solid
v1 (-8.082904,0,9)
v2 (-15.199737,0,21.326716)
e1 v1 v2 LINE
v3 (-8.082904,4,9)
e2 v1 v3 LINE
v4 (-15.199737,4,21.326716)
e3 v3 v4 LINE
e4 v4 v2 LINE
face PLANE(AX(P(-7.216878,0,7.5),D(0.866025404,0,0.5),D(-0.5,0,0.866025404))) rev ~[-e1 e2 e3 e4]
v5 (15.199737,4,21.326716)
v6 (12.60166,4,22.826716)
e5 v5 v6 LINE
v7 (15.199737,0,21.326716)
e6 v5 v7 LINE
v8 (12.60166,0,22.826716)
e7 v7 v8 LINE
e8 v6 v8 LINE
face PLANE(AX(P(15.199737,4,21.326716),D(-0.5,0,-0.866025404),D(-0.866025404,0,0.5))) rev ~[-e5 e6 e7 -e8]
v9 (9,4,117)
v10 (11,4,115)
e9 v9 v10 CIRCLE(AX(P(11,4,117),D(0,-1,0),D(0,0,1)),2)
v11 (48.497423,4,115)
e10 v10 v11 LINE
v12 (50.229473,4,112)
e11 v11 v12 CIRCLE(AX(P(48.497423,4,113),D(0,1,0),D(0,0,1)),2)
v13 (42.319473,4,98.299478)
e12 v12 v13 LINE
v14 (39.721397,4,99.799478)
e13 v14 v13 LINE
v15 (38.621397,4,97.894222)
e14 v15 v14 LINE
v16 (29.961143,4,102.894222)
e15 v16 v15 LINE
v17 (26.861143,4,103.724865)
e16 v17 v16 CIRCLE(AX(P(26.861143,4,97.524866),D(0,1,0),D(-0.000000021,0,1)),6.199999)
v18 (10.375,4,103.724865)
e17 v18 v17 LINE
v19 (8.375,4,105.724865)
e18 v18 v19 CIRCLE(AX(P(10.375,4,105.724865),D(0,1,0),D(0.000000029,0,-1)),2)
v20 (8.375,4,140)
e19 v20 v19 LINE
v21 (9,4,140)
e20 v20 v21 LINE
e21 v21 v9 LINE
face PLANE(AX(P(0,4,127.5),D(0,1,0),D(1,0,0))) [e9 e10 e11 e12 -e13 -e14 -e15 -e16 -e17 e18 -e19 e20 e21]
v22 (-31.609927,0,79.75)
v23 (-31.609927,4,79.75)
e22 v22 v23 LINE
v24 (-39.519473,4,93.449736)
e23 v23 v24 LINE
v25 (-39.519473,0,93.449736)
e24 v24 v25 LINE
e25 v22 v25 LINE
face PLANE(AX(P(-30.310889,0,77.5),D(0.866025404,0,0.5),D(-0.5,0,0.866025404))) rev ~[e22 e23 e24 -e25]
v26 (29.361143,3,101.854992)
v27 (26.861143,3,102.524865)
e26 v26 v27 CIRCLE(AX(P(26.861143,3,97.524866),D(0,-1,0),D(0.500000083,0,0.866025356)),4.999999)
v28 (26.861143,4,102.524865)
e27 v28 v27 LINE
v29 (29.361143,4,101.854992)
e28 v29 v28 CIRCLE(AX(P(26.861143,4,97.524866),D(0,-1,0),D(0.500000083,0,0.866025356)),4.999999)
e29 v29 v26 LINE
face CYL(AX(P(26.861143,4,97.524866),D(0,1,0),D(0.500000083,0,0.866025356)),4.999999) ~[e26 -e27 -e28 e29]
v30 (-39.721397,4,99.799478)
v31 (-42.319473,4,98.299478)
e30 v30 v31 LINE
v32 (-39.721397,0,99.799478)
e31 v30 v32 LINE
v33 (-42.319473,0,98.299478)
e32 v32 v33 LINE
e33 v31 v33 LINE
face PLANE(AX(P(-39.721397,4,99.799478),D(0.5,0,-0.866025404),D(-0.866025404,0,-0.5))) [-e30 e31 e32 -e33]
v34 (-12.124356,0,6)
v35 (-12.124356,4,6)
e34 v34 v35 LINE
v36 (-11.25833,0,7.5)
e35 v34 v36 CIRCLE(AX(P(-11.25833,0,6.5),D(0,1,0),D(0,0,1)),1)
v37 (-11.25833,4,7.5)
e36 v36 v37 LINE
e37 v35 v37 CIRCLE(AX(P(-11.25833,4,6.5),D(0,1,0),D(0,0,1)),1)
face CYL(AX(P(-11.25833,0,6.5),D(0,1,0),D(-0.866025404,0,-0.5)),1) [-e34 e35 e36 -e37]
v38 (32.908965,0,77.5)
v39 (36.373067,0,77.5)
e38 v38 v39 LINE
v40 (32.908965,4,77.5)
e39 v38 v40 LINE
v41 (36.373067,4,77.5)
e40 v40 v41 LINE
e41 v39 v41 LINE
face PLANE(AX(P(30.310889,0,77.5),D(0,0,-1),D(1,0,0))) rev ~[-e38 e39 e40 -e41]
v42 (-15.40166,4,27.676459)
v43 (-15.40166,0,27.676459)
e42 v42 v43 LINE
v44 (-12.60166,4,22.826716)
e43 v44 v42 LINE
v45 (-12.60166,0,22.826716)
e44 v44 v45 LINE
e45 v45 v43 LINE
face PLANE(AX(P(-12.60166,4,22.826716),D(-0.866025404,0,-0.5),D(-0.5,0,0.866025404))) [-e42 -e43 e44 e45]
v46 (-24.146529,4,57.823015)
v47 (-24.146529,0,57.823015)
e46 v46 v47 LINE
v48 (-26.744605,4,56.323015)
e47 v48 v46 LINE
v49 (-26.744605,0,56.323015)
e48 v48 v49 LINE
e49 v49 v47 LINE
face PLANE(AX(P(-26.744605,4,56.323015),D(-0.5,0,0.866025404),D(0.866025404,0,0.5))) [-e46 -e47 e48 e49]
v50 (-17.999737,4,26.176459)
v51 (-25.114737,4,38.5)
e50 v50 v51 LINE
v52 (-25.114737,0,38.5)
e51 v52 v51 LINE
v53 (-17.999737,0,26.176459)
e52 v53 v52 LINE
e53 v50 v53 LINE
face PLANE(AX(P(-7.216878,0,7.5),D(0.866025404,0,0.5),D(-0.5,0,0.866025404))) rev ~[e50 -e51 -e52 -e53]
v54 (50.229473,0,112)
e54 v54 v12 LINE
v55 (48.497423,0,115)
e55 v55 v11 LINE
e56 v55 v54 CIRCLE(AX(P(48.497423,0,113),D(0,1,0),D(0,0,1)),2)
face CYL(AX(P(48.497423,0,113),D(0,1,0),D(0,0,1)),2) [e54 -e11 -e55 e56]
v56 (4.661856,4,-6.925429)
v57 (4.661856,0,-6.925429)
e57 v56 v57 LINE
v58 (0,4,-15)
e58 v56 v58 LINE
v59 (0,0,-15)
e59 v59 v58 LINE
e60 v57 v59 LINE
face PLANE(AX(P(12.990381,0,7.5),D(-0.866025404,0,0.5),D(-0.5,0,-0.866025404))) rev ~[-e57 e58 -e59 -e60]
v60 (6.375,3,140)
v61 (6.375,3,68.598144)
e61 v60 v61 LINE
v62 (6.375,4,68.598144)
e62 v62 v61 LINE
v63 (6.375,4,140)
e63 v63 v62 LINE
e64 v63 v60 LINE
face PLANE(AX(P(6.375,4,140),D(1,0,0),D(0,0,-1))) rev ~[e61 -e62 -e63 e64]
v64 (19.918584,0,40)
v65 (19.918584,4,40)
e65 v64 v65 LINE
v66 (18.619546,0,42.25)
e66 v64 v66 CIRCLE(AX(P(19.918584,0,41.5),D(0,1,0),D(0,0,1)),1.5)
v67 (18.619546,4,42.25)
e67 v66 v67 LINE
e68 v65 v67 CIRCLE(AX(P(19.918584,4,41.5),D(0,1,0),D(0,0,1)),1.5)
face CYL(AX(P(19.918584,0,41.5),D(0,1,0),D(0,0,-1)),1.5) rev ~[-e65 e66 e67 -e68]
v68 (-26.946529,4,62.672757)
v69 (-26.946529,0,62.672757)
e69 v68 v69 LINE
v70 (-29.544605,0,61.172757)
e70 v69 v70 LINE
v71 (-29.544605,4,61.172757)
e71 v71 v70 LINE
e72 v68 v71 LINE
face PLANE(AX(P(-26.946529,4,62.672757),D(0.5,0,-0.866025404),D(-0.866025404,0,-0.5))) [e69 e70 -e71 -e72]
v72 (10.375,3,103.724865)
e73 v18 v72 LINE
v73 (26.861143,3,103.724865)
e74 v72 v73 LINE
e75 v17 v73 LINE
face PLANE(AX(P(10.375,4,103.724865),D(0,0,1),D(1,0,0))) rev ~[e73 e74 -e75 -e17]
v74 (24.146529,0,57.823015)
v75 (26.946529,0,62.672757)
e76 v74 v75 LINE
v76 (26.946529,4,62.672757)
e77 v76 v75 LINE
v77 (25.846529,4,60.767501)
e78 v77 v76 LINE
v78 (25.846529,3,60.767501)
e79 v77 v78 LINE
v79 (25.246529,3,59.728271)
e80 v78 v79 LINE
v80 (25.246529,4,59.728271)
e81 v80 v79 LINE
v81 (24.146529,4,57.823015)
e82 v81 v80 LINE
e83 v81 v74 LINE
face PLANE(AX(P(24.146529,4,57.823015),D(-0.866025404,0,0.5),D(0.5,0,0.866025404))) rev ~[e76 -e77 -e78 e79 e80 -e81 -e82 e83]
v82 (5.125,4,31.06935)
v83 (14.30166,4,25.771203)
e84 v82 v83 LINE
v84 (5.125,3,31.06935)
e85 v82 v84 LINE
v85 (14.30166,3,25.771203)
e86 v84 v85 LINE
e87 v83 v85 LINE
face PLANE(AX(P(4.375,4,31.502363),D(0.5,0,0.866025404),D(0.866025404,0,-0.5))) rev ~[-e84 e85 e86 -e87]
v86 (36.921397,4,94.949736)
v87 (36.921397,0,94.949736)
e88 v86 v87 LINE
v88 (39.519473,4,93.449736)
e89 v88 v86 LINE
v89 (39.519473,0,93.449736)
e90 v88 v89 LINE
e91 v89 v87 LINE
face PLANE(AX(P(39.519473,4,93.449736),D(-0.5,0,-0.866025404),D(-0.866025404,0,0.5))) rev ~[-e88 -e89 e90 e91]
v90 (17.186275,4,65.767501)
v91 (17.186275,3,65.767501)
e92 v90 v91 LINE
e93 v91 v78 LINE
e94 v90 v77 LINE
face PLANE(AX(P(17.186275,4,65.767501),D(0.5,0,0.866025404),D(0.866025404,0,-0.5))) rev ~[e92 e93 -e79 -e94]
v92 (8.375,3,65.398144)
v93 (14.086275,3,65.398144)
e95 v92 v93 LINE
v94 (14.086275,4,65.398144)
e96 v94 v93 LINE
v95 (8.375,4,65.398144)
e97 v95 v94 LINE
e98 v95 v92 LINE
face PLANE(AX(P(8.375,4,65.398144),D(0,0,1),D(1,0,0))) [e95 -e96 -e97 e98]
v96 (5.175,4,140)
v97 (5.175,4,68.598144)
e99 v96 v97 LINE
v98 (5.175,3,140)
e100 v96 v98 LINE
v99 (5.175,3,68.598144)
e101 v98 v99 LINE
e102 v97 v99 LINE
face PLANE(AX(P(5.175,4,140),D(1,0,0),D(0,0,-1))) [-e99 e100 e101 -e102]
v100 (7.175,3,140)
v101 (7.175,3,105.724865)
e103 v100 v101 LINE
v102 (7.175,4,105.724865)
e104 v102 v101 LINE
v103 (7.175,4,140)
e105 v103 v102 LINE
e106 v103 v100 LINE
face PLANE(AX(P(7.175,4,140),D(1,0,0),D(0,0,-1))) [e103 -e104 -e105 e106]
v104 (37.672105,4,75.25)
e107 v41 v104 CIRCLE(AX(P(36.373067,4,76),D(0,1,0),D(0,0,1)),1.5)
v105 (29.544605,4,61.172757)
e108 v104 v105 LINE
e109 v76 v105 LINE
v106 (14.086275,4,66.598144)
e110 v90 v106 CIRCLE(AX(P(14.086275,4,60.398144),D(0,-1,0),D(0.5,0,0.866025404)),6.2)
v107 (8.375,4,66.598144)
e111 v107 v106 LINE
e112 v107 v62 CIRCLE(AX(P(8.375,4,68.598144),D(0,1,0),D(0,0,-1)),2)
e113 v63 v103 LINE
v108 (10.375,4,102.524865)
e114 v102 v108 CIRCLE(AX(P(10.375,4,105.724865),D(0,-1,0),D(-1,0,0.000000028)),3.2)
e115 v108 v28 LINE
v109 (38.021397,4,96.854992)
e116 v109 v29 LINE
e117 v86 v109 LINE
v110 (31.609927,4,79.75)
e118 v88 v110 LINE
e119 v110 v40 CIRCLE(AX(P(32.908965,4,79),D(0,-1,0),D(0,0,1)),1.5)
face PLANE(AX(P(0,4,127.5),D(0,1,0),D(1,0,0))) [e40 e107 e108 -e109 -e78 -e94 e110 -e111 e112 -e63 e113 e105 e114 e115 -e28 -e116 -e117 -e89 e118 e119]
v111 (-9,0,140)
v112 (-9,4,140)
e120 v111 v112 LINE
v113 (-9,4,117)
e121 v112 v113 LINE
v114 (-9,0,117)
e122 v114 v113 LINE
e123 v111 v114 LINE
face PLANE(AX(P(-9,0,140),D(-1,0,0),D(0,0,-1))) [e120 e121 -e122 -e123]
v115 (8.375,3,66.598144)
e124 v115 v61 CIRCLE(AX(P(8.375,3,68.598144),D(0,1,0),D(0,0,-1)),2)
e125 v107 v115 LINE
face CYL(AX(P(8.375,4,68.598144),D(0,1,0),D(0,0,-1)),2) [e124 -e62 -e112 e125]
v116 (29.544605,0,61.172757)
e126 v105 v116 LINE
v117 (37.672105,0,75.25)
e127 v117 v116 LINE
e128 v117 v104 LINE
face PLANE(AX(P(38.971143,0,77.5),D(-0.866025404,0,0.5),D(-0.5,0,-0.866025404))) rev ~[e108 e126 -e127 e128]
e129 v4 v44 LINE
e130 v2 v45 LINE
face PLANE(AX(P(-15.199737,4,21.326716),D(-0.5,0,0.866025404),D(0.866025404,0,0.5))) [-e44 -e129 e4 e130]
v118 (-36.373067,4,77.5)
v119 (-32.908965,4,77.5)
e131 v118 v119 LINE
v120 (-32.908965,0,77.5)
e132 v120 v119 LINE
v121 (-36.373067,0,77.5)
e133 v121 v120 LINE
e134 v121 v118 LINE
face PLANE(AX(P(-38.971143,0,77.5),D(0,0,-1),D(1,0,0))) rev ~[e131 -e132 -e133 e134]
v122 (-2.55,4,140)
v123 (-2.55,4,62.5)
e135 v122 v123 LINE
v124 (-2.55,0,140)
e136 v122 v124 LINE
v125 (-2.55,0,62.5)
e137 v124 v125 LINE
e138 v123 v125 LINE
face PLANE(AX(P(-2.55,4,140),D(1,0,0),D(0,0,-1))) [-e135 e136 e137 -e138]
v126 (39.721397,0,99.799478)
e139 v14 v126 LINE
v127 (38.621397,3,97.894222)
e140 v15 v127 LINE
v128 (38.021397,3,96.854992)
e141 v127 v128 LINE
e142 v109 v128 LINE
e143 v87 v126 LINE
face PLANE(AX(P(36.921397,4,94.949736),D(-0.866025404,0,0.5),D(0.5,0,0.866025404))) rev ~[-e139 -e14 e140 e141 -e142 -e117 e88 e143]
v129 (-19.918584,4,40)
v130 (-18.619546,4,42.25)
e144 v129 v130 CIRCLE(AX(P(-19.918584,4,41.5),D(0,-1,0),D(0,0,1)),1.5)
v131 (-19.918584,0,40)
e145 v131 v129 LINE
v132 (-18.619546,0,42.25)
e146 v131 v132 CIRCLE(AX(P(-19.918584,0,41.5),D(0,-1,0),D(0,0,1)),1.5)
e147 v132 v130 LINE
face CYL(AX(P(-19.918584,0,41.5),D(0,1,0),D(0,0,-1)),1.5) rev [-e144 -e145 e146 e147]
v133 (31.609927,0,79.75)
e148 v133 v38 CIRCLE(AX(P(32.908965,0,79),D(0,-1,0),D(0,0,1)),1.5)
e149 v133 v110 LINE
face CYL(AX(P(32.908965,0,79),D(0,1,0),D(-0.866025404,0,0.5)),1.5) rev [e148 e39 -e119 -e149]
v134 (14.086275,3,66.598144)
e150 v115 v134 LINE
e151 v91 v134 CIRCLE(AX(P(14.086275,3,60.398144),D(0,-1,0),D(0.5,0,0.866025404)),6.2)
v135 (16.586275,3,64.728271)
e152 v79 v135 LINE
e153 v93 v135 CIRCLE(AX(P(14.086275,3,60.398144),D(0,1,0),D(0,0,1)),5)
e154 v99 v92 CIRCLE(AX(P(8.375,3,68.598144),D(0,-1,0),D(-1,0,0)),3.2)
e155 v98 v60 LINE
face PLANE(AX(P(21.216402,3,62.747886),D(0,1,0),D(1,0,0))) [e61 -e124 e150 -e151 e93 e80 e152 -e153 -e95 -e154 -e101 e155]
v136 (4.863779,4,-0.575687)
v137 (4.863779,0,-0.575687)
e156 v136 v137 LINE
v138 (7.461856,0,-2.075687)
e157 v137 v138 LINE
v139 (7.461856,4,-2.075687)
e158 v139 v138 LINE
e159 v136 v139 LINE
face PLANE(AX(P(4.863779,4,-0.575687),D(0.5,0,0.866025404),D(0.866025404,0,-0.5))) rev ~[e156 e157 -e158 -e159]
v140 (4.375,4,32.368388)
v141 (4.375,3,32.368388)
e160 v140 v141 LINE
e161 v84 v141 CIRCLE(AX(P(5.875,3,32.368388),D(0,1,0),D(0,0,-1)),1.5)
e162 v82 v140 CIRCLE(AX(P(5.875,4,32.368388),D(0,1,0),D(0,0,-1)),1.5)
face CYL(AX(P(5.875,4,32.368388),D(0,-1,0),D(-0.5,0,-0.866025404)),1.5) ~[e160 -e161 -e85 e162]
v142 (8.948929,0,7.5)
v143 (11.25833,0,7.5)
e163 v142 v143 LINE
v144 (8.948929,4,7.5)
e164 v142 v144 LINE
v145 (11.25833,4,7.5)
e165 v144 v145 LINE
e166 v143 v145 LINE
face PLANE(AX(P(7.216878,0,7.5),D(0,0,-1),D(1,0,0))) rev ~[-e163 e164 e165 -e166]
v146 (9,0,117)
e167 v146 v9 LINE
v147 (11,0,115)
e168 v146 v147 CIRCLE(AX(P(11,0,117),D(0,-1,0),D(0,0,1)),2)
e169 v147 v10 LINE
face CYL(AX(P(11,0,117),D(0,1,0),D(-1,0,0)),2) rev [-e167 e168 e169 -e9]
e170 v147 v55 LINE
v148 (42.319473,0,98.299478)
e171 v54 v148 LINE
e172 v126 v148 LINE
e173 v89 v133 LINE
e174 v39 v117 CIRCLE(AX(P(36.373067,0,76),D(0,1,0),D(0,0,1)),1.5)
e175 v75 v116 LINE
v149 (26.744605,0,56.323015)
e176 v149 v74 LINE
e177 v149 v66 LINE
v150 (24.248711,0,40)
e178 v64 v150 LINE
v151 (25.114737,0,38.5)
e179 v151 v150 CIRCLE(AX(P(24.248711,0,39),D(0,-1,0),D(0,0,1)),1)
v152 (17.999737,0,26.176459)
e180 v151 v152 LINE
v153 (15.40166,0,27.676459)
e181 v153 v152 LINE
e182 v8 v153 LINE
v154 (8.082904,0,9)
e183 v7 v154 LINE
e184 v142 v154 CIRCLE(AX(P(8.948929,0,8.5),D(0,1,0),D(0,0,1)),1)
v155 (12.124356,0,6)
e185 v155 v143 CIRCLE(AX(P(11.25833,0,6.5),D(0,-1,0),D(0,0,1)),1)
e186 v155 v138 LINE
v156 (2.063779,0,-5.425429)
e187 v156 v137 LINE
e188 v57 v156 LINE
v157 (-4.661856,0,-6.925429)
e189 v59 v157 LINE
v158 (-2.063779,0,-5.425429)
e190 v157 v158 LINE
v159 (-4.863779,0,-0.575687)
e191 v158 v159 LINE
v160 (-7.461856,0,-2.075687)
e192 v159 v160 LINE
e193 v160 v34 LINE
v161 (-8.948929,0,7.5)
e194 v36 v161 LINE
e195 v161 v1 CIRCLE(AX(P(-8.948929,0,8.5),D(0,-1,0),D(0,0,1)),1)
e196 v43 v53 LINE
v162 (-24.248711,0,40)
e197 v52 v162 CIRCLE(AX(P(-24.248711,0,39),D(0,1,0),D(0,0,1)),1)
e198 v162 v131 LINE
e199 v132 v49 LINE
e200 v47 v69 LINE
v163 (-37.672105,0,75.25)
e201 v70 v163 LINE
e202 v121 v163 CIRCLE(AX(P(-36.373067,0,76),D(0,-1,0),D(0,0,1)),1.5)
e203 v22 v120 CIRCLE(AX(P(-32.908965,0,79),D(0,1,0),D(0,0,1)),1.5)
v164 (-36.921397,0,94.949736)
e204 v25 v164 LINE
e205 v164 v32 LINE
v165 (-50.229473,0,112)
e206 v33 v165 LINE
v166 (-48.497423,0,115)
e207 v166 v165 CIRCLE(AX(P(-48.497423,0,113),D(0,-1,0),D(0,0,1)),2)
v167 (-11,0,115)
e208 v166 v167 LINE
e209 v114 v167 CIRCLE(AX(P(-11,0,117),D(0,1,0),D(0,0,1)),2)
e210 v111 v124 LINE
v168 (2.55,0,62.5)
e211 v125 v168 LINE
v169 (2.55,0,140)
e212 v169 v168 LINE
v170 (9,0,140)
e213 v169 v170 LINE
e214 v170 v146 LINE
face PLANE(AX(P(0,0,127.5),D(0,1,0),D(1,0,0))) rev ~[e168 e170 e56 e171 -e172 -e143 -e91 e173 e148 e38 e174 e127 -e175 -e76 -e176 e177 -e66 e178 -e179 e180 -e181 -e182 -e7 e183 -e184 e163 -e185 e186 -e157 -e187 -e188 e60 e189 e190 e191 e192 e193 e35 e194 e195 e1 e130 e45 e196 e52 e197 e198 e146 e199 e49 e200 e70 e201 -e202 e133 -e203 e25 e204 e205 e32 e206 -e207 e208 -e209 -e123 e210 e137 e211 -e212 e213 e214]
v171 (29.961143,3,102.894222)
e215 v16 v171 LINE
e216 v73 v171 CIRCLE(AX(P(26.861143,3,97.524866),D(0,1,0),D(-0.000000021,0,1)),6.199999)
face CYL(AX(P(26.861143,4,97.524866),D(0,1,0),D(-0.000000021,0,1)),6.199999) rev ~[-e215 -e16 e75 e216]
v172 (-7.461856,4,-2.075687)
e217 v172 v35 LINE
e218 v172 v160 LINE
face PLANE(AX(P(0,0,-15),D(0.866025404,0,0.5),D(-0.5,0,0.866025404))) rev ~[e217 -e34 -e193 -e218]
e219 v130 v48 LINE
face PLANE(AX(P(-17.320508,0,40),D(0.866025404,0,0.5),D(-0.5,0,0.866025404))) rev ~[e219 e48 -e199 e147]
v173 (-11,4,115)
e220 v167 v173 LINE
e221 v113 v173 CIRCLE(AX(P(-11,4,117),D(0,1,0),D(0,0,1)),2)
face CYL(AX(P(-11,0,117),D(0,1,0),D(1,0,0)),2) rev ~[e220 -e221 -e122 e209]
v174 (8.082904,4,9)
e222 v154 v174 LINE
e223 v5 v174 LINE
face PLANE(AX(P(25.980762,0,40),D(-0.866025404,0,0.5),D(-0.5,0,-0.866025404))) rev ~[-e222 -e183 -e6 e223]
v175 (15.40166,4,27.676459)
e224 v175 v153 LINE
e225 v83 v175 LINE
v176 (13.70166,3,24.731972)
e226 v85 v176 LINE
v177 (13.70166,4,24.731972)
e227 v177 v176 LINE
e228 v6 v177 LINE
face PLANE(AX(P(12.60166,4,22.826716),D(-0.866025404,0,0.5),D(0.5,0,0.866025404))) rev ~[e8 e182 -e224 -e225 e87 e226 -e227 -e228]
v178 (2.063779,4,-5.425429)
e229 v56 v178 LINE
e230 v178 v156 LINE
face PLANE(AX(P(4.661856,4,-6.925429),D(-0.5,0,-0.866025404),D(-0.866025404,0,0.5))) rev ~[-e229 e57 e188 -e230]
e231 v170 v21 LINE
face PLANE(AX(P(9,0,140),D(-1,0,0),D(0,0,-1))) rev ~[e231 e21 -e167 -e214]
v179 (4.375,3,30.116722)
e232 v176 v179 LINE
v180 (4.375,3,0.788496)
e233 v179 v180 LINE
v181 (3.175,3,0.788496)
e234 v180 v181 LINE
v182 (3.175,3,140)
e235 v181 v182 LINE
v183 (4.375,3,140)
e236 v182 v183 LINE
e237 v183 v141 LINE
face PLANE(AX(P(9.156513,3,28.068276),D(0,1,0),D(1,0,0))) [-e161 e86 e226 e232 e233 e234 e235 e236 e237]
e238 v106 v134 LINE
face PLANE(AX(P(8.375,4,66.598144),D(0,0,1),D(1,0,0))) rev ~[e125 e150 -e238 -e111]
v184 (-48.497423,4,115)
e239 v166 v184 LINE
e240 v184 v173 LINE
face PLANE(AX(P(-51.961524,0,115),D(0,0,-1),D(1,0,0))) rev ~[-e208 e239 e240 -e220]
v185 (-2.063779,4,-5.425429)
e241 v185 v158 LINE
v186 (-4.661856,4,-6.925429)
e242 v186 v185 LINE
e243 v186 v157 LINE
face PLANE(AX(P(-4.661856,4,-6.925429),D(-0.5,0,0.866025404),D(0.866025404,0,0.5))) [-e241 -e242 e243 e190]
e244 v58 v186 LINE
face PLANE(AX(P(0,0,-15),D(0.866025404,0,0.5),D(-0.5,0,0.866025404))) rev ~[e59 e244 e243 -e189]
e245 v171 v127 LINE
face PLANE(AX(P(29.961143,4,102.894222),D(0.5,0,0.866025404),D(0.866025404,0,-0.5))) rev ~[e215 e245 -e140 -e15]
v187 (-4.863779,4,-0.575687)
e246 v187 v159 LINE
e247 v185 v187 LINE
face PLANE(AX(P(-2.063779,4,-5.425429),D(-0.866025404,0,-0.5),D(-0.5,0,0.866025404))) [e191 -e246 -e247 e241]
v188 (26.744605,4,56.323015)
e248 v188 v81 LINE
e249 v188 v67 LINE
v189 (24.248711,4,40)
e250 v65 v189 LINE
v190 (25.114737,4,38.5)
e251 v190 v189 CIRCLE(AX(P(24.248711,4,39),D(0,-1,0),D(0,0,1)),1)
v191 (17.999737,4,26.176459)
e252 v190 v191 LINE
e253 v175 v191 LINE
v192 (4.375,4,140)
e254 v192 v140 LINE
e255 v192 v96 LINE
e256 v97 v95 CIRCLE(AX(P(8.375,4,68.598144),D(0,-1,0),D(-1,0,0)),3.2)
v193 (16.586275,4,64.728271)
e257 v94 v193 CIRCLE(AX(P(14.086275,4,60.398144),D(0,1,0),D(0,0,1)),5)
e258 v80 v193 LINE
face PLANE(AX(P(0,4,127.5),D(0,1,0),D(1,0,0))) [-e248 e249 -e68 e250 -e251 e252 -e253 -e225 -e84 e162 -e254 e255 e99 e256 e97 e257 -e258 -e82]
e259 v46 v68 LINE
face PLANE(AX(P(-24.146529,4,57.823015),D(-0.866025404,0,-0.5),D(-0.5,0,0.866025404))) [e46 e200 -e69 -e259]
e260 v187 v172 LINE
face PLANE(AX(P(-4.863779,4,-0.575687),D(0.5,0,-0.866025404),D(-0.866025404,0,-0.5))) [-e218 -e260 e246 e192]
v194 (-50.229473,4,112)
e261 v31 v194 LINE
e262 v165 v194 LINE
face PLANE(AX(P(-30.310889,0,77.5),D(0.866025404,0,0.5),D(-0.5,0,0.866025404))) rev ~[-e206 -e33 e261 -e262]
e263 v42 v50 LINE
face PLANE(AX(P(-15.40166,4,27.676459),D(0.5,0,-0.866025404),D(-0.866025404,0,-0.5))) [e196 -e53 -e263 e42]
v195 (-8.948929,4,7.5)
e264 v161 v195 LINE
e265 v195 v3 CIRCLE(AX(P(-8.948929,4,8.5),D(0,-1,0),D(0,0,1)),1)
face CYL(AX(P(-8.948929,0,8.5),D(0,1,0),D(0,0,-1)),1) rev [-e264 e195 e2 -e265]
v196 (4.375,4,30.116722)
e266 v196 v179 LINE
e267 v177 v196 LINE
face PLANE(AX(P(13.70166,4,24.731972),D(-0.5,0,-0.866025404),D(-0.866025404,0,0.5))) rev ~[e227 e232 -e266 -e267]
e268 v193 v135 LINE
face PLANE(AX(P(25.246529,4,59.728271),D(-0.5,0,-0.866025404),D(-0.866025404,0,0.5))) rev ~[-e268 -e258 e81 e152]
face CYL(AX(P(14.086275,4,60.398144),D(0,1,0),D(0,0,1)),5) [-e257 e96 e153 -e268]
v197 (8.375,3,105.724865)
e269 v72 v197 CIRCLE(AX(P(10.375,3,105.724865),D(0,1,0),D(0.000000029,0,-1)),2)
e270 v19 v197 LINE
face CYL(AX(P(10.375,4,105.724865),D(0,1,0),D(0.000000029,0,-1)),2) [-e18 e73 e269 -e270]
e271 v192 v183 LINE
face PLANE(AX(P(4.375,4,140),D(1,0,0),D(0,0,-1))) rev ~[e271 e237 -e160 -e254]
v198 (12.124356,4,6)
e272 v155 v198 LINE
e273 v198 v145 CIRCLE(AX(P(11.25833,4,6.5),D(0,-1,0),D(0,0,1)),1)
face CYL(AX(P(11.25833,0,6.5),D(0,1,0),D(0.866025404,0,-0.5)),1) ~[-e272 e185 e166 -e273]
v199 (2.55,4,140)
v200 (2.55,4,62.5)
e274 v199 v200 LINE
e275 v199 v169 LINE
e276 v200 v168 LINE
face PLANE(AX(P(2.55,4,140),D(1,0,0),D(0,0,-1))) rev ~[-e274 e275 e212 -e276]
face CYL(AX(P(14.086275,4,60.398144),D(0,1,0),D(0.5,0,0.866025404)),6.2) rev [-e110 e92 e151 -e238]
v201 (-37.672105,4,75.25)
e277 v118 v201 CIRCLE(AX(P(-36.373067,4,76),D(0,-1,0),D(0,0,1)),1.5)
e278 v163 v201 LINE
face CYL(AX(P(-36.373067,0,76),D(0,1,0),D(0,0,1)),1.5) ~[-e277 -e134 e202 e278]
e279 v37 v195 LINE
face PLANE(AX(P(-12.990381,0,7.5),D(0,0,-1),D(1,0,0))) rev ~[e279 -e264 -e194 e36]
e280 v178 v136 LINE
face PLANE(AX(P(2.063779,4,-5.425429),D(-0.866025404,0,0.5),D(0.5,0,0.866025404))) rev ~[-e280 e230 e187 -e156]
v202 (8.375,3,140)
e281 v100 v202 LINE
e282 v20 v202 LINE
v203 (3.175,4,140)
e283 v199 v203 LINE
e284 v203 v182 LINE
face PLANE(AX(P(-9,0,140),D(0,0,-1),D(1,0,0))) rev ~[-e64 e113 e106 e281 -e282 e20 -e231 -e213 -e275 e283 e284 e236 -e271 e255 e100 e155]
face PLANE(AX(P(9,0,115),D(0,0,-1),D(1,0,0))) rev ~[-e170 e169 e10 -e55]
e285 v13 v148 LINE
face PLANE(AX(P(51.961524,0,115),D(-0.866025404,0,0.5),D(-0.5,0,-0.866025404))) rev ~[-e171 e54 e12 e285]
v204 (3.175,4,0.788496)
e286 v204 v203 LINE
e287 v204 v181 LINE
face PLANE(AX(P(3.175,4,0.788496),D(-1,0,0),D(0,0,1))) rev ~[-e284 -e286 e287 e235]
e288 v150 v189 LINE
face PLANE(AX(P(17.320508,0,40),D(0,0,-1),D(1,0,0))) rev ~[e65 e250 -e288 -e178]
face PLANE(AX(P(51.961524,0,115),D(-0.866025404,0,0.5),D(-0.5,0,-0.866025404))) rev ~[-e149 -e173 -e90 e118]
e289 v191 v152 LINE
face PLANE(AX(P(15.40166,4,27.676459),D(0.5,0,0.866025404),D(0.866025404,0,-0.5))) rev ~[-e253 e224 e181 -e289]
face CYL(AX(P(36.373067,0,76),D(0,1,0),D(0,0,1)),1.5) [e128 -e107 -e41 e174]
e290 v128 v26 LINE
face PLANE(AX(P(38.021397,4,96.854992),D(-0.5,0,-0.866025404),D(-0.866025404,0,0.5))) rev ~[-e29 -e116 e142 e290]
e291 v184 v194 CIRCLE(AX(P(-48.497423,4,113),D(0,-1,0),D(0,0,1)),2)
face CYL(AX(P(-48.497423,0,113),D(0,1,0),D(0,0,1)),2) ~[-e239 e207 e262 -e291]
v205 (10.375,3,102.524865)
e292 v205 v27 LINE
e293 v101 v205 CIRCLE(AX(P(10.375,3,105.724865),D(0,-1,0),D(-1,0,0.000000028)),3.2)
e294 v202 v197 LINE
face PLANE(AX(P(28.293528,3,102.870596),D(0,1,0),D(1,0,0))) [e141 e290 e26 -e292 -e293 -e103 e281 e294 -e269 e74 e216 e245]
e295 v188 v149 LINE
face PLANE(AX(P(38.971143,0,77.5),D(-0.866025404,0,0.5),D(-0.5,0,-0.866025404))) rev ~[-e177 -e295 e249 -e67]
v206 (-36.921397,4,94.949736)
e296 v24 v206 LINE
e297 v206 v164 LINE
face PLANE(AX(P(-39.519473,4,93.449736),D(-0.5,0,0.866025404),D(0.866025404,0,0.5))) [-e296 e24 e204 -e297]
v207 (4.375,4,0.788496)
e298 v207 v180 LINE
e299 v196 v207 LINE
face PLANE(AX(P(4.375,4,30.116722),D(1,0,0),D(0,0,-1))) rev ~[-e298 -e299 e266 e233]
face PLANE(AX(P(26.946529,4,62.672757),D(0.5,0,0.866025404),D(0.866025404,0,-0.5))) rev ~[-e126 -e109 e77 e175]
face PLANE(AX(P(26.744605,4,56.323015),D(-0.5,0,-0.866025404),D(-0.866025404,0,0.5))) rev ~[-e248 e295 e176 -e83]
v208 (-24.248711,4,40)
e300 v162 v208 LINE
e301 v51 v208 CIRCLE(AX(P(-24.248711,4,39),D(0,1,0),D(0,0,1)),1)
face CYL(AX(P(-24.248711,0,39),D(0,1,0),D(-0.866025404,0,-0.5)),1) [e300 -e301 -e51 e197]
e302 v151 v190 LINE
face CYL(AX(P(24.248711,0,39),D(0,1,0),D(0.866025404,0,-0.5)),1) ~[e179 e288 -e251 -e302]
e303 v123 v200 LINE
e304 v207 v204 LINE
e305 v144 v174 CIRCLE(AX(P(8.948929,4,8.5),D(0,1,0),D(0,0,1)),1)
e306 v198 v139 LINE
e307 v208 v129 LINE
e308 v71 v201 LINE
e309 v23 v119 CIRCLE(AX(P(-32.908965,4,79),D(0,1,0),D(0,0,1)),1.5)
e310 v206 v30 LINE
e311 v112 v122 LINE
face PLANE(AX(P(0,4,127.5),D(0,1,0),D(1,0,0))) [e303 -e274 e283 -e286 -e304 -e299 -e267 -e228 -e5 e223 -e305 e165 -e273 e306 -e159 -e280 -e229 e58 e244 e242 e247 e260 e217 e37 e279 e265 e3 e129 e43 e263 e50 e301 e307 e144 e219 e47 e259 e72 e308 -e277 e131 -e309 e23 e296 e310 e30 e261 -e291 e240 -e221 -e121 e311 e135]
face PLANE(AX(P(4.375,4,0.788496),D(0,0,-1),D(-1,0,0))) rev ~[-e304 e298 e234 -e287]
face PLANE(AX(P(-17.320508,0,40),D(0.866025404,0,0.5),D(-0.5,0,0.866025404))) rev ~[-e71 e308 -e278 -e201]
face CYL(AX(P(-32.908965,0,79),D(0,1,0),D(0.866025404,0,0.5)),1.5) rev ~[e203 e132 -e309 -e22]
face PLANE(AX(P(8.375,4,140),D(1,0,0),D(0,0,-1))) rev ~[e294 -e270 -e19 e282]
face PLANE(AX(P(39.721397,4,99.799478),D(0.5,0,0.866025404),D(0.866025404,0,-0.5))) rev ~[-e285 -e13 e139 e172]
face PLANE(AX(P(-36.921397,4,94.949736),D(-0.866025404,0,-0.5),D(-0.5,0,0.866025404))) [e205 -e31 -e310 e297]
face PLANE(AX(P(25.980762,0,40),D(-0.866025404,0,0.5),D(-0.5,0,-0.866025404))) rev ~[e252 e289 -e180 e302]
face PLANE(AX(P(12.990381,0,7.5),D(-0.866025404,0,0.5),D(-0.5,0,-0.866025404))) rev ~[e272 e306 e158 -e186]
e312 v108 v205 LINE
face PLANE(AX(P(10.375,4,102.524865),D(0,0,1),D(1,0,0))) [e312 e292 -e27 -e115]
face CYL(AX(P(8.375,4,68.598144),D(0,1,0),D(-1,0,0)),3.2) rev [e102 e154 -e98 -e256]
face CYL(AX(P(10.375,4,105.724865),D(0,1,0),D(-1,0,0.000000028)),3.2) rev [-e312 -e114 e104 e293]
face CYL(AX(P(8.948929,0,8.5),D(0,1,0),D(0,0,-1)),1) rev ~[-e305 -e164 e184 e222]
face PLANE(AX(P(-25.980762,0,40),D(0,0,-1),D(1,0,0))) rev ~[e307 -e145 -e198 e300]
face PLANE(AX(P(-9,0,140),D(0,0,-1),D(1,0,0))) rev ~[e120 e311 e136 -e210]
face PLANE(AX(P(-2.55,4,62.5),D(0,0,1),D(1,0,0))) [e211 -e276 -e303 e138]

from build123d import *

# Parameters (mm, degrees)
ESBO_O1_W             = 18
ESBO_O1_H             = 25
RVORE_DEPTH           = 4
ESBO_O2_W             = 5.1
ESBO_O2_H             = 77.5
ENCAIXE_DEPTH         = 5
FILETE2_R             = 1
FILETE3_R             = 1
FILETE4_R             = 1
FILETE5_R             = 1
FILETE6_R             = 1
FILETE7_R             = 1
FILETE8_R             = 1.5
FILETE9_R             = 1.5
FILETE10_R            = 1.5
FILETE11_R            = 1.5
FILETE12_R            = 2
FILETE13_R            = 2
FILETE14_R            = 2
FILETE15_R            = 2
FILETE16_R            = 1.5
FILETE17_R            = 1.5
CORTES_DO_LED_DEPTH   = 10
ESBO_O6_W             = 16.486143217
ESBO_O6_H             = 1.199999983
ESBO_O6_W_2           = 1.200000015
ESBO_O6_H_2           = 34.2751352
ESBO_O6_W_3           = 5.711274815
ESBO_O6_H_3           = 1.2
ESBO_O6_W_4           = 1.2
ESBO_O6_H_4           = 71.40185633
CORTE_EXTRUS_O4_DEPTH = 1
FILETE18_R            = 1.5


with BuildPart() as part:
    # Esboço1 → rvore (new body)
    with BuildSketch(Plane(origin=(0, 0, 0), x_dir=(1, 0, 0), z_dir=(0, 1, 0))):
        with Locations((0, -127.5)):
            Rectangle(ESBO_O1_W, ESBO_O1_H)
        Polygon((-51.961524227, -115), (-9, -115), (9, -115), (51.961524227, -115), (30.310889132, -77.5), (-30.310889132, -77.5), align=None)
        Polygon((-8.660254038, -40), (-30.310889132, -77.5), (30.310889132, -77.5), (8.660254038, -40), align=None)
        Polygon((-17.320508076, -40), (-8.660254038, -40), (0, -25), (8.660254038, -40), (17.320508076, -40), (0, -10), align=None)
        Polygon((8.660254038, -40), (30.310889132, -77.5), (38.97114317, -77.5), (17.320508076, -40), align=None)
        Polygon((0, -25), (-8.660254038, -40), (8.660254038, -40), align=None)
        Polygon((-38.97114317, -77.5), (-30.310889132, -77.5), (-8.660254038, -40), (-17.320508076, -40), align=None)
        Polygon((-25.980762114, -40), (-17.320508076, -40), (0, -10), (17.320508076, -40), (25.980762114, -40), (7.216878365, -7.5), (-7.216878365, -7.5), align=None)
        Polygon((0, 5), (-7.216878365, -7.5), (7.216878365, -7.5), align=None)
        Polygon((-12.990381057, -7.5), (-7.216878365, -7.5), (0, 5), (7.216878365, -7.5), (12.990381057, -7.5), (0, 15), align=None)
    extrude(amount=RVORE_DEPTH)

    # Esboço2 → Encaixe (cut)
    with BuildSketch(Plane(origin=(0, 4, 0), x_dir=(1, 0, 0), z_dir=(0, 1, 0))):
        with Locations((0, -101.25)):
            Rectangle(ESBO_O2_W, ESBO_O2_H)
    extrude(amount=-ENCAIXE_DEPTH, mode=Mode.SUBTRACT)

    # Filete2
    filete2_edges = [part.edges().sort_by_distance(p)[0] for p in [
        (12.990381057, 2, 7.5),
    ]]
    fillet(filete2_edges, radius=FILETE2_R)

    # Filete3
    filete3_edges = [part.edges().sort_by_distance(p)[0] for p in [
        (-12.990381057, 2, 7.5),
    ]]
    fillet(filete3_edges, radius=FILETE3_R)

    # Filete4
    filete4_edges = [part.edges().sort_by_distance(p)[0] for p in [
        (-7.216878365, 2, 7.5),
    ]]
    fillet(filete4_edges, radius=FILETE4_R)

    # Filete5
    filete5_edges = [part.edges().sort_by_distance(p)[0] for p in [
        (7.216878365, 2, 7.5),
    ]]
    fillet(filete5_edges, radius=FILETE5_R)

    # Filete6
    filete6_edges = [part.edges().sort_by_distance(p)[0] for p in [
        (25.980762114, 2, 40),
    ]]
    fillet(filete6_edges, radius=FILETE6_R)

    # Filete7
    filete7_edges = [part.edges().sort_by_distance(p)[0] for p in [
        (-25.980762114, 2, 40),
    ]]
    fillet(filete7_edges, radius=FILETE7_R)

    # Filete8
    filete8_edges = [part.edges().sort_by_distance(p)[0] for p in [
        (17.320508076, 2, 40),
    ]]
    fillet(filete8_edges, radius=FILETE8_R)

    # Filete9
    filete9_edges = [part.edges().sort_by_distance(p)[0] for p in [
        (-17.320508076, 2, 40),
    ]]
    fillet(filete9_edges, radius=FILETE9_R)

    # Filete10
    filete10_edges = [part.edges().sort_by_distance(p)[0] for p in [
        (38.97114317, 2, 77.5),
    ]]
    fillet(filete10_edges, radius=FILETE10_R)

    # Filete11
    filete11_edges = [part.edges().sort_by_distance(p)[0] for p in [
        (-38.97114317, 2, 77.5),
    ]]
    fillet(filete11_edges, radius=FILETE11_R)

    # Filete12
    filete12_edges = [part.edges().sort_by_distance(p)[0] for p in [
        (51.961524227, 2, 115),
    ]]
    fillet(filete12_edges, radius=FILETE12_R)

    # Filete13
    filete13_edges = [part.edges().sort_by_distance(p)[0] for p in [
        (-51.961524227, 2, 115),
    ]]
    fillet(filete13_edges, radius=FILETE13_R)

    # Filete14
    filete14_edges = [part.edges().sort_by_distance(p)[0] for p in [
        (9, 2, 115),
    ]]
    fillet(filete14_edges, radius=FILETE14_R)

    # Filete15
    filete15_edges = [part.edges().sort_by_distance(p)[0] for p in [
        (-9, 2, 115),
    ]]
    fillet(filete15_edges, radius=FILETE15_R)

    # Filete16
    filete16_edges = [part.edges().sort_by_distance(p)[0] for p in [
        (30.310889132, 2, 77.5),
    ]]
    fillet(filete16_edges, radius=FILETE16_R)

    # Filete17
    filete17_edges = [part.edges().sort_by_distance(p)[0] for p in [
        (-30.310889132, 2, 77.5),
    ]]
    fillet(filete17_edges, radius=FILETE17_R)

    # Esboço5 → Cortes do Led (cut)
    with BuildSketch(Plane(origin=(0, 4, 0), x_dir=(1, 0, 0), z_dir=(0, 1, 0))):
        Polygon((42.319473419, -98.299478112), (39.519473419, -93.449735851), (36.921397208, -94.949735851), (39.721397208, -99.799478112), align=None)
        Polygon((29.544605065, -61.172757061), (26.744605065, -56.3230148), (24.146528853, -57.8230148), (26.946528853, -62.672757061), align=None)
        Polygon((17.99973671, -26.176458504), (15.19973671, -21.326716243), (12.601660498, -22.826716243), (15.401660498, -27.676458504), align=None)
        Polygon((7.461855653, 2.07568689), (4.661855653, 6.925429151), (2.063779442, 5.425429151), (4.863779442, 0.57568689), align=None)
        Polygon((-7.461855653, 2.07568689), (-4.661855653, 6.925429151), (-2.063779442, 5.425429151), (-4.863779442, 0.57568689), align=None)
        Polygon((-17.99973671, -26.176458504), (-15.19973671, -21.326716243), (-12.601660498, -22.826716243), (-15.401660498, -27.676458504), align=None)
        Polygon((-29.544605065, -61.172757061), (-26.744605065, -56.3230148), (-24.146528853, -57.8230148), (-26.946528853, -62.672757061), align=None)
        Polygon((-42.319473419, -98.299478112), (-39.519473419, -93.449735851), (-36.921397208, -94.949735851), (-39.721397208, -99.799478112), align=None)
    extrude(amount=-CORTES_DO_LED_DEPTH, mode=Mode.SUBTRACT)

    # Esboço6 → Corte-extrusão4 (cut)
    with BuildSketch(Plane(origin=(0, 4, 0), x_dir=(1, 0, 0), z_dir=(0, 1, 0))):
        with BuildLine():
            Line((26.861143157, -102.524864809), (26.861143157, -103.724864792))
            ThreePointArc((26.861143157, -103.724864792), (28.465821261, -103.513604912), (29.96114317, -102.894222224))
            Line((29.96114317, -102.894222224), (29.36114317, -101.854991739))
            ThreePointArc((29.36114317, -101.854991739), (28.155238411, -102.354493936), (26.861143157, -102.524864809))
        make_face()
        with Locations((18.618071549, -103.124864801)):
            Rectangle(ESBO_O6_W, ESBO_O6_H)
        Polygon((38.021397208, -96.854991739), (29.36114317, -101.854991739), (29.96114317, -102.894222224), (38.621397208, -97.894222224), align=None)
        with BuildLine():
            ThreePointArc((10.37499994, -103.724864792), (8.960786372, -104.310651232), (8.375000015, -105.7248648))
            Line((8.375000015, -105.7248648), (7.175, -105.7248648))
            ThreePointArc((7.175, -105.7248648), (8.112258246, -103.462123106), (10.37499994, -102.524864809))
            Line((10.37499994, -102.524864809), (10.37499994, -103.724864792))
        make_face()
        with Locations((7.775000008, -122.8624324)):
            Rectangle(ESBO_O6_W_2, ESBO_O6_H_2)
        Polygon((25.246528853, -59.728270689), (16.586274815, -64.728270689), (17.186274815, -65.767501173), (25.846528853, -60.767501173), align=None)
        with BuildLine():
            Line((14.086274815, -66.59814367), (14.086274815, -65.39814367))
            ThreePointArc((14.086274815, -65.39814367), (15.380370041, -65.227772801), (16.586274815, -64.728270689))
            Line((16.586274815, -64.728270689), (17.186274815, -65.767501173))
            ThreePointArc((17.186274815, -65.767501173), (15.690952895, -66.386883793), (14.086274815, -66.59814367))
        make_face()
        with Locations((11.230637408, -65.99814367)):
            Rectangle(ESBO_O6_W_3, ESBO_O6_H_3)
        with BuildLine():
            ThreePointArc((8.375, -66.59814367), (6.960786438, -67.183930107), (6.375, -68.59814367))
            Line((6.375, -68.59814367), (5.175, -68.59814367))
            ThreePointArc((5.175, -68.59814367), (6.1122583, -66.33540197), (8.375, -65.39814367))
            Line((8.375, -65.39814367), (8.375, -66.59814367))
        make_face()
        with Locations((5.775, -104.299071835)):
            Rectangle(ESBO_O6_W_4, ESBO_O6_H_4)
        Polygon((4.375, -30.116722081), (4.375, -31.502362727), (14.301660498, -25.771202616), (13.701660498, -24.731972131), align=None)
        Polygon((3.175, -0.788496095), (3.175, -140), (4.375, -140), (4.375, -31.502362727), (3.909355653, -31.771202616), (3.309355653, -30.731972131), (4.375, -30.116722081), (4.375, -0.788496095), align=None)
        Polygon((3.909355653, -31.771202616), (4.375, -31.502362727), (4.375, -30.116722081), (3.309355653, -30.731972131), align=None)
    extrude(amount=-CORTE_EXTRUS_O4_DEPTH, mode=Mode.SUBTRACT)

    # Filete18
    filete18_edges = [part.edges().sort_by_distance(p)[0] for p in [
        (4.375, 3.5, 31.502362727),
    ]]
    fillet(filete18_edges, radius=FILETE18_R)


solid = part.part
